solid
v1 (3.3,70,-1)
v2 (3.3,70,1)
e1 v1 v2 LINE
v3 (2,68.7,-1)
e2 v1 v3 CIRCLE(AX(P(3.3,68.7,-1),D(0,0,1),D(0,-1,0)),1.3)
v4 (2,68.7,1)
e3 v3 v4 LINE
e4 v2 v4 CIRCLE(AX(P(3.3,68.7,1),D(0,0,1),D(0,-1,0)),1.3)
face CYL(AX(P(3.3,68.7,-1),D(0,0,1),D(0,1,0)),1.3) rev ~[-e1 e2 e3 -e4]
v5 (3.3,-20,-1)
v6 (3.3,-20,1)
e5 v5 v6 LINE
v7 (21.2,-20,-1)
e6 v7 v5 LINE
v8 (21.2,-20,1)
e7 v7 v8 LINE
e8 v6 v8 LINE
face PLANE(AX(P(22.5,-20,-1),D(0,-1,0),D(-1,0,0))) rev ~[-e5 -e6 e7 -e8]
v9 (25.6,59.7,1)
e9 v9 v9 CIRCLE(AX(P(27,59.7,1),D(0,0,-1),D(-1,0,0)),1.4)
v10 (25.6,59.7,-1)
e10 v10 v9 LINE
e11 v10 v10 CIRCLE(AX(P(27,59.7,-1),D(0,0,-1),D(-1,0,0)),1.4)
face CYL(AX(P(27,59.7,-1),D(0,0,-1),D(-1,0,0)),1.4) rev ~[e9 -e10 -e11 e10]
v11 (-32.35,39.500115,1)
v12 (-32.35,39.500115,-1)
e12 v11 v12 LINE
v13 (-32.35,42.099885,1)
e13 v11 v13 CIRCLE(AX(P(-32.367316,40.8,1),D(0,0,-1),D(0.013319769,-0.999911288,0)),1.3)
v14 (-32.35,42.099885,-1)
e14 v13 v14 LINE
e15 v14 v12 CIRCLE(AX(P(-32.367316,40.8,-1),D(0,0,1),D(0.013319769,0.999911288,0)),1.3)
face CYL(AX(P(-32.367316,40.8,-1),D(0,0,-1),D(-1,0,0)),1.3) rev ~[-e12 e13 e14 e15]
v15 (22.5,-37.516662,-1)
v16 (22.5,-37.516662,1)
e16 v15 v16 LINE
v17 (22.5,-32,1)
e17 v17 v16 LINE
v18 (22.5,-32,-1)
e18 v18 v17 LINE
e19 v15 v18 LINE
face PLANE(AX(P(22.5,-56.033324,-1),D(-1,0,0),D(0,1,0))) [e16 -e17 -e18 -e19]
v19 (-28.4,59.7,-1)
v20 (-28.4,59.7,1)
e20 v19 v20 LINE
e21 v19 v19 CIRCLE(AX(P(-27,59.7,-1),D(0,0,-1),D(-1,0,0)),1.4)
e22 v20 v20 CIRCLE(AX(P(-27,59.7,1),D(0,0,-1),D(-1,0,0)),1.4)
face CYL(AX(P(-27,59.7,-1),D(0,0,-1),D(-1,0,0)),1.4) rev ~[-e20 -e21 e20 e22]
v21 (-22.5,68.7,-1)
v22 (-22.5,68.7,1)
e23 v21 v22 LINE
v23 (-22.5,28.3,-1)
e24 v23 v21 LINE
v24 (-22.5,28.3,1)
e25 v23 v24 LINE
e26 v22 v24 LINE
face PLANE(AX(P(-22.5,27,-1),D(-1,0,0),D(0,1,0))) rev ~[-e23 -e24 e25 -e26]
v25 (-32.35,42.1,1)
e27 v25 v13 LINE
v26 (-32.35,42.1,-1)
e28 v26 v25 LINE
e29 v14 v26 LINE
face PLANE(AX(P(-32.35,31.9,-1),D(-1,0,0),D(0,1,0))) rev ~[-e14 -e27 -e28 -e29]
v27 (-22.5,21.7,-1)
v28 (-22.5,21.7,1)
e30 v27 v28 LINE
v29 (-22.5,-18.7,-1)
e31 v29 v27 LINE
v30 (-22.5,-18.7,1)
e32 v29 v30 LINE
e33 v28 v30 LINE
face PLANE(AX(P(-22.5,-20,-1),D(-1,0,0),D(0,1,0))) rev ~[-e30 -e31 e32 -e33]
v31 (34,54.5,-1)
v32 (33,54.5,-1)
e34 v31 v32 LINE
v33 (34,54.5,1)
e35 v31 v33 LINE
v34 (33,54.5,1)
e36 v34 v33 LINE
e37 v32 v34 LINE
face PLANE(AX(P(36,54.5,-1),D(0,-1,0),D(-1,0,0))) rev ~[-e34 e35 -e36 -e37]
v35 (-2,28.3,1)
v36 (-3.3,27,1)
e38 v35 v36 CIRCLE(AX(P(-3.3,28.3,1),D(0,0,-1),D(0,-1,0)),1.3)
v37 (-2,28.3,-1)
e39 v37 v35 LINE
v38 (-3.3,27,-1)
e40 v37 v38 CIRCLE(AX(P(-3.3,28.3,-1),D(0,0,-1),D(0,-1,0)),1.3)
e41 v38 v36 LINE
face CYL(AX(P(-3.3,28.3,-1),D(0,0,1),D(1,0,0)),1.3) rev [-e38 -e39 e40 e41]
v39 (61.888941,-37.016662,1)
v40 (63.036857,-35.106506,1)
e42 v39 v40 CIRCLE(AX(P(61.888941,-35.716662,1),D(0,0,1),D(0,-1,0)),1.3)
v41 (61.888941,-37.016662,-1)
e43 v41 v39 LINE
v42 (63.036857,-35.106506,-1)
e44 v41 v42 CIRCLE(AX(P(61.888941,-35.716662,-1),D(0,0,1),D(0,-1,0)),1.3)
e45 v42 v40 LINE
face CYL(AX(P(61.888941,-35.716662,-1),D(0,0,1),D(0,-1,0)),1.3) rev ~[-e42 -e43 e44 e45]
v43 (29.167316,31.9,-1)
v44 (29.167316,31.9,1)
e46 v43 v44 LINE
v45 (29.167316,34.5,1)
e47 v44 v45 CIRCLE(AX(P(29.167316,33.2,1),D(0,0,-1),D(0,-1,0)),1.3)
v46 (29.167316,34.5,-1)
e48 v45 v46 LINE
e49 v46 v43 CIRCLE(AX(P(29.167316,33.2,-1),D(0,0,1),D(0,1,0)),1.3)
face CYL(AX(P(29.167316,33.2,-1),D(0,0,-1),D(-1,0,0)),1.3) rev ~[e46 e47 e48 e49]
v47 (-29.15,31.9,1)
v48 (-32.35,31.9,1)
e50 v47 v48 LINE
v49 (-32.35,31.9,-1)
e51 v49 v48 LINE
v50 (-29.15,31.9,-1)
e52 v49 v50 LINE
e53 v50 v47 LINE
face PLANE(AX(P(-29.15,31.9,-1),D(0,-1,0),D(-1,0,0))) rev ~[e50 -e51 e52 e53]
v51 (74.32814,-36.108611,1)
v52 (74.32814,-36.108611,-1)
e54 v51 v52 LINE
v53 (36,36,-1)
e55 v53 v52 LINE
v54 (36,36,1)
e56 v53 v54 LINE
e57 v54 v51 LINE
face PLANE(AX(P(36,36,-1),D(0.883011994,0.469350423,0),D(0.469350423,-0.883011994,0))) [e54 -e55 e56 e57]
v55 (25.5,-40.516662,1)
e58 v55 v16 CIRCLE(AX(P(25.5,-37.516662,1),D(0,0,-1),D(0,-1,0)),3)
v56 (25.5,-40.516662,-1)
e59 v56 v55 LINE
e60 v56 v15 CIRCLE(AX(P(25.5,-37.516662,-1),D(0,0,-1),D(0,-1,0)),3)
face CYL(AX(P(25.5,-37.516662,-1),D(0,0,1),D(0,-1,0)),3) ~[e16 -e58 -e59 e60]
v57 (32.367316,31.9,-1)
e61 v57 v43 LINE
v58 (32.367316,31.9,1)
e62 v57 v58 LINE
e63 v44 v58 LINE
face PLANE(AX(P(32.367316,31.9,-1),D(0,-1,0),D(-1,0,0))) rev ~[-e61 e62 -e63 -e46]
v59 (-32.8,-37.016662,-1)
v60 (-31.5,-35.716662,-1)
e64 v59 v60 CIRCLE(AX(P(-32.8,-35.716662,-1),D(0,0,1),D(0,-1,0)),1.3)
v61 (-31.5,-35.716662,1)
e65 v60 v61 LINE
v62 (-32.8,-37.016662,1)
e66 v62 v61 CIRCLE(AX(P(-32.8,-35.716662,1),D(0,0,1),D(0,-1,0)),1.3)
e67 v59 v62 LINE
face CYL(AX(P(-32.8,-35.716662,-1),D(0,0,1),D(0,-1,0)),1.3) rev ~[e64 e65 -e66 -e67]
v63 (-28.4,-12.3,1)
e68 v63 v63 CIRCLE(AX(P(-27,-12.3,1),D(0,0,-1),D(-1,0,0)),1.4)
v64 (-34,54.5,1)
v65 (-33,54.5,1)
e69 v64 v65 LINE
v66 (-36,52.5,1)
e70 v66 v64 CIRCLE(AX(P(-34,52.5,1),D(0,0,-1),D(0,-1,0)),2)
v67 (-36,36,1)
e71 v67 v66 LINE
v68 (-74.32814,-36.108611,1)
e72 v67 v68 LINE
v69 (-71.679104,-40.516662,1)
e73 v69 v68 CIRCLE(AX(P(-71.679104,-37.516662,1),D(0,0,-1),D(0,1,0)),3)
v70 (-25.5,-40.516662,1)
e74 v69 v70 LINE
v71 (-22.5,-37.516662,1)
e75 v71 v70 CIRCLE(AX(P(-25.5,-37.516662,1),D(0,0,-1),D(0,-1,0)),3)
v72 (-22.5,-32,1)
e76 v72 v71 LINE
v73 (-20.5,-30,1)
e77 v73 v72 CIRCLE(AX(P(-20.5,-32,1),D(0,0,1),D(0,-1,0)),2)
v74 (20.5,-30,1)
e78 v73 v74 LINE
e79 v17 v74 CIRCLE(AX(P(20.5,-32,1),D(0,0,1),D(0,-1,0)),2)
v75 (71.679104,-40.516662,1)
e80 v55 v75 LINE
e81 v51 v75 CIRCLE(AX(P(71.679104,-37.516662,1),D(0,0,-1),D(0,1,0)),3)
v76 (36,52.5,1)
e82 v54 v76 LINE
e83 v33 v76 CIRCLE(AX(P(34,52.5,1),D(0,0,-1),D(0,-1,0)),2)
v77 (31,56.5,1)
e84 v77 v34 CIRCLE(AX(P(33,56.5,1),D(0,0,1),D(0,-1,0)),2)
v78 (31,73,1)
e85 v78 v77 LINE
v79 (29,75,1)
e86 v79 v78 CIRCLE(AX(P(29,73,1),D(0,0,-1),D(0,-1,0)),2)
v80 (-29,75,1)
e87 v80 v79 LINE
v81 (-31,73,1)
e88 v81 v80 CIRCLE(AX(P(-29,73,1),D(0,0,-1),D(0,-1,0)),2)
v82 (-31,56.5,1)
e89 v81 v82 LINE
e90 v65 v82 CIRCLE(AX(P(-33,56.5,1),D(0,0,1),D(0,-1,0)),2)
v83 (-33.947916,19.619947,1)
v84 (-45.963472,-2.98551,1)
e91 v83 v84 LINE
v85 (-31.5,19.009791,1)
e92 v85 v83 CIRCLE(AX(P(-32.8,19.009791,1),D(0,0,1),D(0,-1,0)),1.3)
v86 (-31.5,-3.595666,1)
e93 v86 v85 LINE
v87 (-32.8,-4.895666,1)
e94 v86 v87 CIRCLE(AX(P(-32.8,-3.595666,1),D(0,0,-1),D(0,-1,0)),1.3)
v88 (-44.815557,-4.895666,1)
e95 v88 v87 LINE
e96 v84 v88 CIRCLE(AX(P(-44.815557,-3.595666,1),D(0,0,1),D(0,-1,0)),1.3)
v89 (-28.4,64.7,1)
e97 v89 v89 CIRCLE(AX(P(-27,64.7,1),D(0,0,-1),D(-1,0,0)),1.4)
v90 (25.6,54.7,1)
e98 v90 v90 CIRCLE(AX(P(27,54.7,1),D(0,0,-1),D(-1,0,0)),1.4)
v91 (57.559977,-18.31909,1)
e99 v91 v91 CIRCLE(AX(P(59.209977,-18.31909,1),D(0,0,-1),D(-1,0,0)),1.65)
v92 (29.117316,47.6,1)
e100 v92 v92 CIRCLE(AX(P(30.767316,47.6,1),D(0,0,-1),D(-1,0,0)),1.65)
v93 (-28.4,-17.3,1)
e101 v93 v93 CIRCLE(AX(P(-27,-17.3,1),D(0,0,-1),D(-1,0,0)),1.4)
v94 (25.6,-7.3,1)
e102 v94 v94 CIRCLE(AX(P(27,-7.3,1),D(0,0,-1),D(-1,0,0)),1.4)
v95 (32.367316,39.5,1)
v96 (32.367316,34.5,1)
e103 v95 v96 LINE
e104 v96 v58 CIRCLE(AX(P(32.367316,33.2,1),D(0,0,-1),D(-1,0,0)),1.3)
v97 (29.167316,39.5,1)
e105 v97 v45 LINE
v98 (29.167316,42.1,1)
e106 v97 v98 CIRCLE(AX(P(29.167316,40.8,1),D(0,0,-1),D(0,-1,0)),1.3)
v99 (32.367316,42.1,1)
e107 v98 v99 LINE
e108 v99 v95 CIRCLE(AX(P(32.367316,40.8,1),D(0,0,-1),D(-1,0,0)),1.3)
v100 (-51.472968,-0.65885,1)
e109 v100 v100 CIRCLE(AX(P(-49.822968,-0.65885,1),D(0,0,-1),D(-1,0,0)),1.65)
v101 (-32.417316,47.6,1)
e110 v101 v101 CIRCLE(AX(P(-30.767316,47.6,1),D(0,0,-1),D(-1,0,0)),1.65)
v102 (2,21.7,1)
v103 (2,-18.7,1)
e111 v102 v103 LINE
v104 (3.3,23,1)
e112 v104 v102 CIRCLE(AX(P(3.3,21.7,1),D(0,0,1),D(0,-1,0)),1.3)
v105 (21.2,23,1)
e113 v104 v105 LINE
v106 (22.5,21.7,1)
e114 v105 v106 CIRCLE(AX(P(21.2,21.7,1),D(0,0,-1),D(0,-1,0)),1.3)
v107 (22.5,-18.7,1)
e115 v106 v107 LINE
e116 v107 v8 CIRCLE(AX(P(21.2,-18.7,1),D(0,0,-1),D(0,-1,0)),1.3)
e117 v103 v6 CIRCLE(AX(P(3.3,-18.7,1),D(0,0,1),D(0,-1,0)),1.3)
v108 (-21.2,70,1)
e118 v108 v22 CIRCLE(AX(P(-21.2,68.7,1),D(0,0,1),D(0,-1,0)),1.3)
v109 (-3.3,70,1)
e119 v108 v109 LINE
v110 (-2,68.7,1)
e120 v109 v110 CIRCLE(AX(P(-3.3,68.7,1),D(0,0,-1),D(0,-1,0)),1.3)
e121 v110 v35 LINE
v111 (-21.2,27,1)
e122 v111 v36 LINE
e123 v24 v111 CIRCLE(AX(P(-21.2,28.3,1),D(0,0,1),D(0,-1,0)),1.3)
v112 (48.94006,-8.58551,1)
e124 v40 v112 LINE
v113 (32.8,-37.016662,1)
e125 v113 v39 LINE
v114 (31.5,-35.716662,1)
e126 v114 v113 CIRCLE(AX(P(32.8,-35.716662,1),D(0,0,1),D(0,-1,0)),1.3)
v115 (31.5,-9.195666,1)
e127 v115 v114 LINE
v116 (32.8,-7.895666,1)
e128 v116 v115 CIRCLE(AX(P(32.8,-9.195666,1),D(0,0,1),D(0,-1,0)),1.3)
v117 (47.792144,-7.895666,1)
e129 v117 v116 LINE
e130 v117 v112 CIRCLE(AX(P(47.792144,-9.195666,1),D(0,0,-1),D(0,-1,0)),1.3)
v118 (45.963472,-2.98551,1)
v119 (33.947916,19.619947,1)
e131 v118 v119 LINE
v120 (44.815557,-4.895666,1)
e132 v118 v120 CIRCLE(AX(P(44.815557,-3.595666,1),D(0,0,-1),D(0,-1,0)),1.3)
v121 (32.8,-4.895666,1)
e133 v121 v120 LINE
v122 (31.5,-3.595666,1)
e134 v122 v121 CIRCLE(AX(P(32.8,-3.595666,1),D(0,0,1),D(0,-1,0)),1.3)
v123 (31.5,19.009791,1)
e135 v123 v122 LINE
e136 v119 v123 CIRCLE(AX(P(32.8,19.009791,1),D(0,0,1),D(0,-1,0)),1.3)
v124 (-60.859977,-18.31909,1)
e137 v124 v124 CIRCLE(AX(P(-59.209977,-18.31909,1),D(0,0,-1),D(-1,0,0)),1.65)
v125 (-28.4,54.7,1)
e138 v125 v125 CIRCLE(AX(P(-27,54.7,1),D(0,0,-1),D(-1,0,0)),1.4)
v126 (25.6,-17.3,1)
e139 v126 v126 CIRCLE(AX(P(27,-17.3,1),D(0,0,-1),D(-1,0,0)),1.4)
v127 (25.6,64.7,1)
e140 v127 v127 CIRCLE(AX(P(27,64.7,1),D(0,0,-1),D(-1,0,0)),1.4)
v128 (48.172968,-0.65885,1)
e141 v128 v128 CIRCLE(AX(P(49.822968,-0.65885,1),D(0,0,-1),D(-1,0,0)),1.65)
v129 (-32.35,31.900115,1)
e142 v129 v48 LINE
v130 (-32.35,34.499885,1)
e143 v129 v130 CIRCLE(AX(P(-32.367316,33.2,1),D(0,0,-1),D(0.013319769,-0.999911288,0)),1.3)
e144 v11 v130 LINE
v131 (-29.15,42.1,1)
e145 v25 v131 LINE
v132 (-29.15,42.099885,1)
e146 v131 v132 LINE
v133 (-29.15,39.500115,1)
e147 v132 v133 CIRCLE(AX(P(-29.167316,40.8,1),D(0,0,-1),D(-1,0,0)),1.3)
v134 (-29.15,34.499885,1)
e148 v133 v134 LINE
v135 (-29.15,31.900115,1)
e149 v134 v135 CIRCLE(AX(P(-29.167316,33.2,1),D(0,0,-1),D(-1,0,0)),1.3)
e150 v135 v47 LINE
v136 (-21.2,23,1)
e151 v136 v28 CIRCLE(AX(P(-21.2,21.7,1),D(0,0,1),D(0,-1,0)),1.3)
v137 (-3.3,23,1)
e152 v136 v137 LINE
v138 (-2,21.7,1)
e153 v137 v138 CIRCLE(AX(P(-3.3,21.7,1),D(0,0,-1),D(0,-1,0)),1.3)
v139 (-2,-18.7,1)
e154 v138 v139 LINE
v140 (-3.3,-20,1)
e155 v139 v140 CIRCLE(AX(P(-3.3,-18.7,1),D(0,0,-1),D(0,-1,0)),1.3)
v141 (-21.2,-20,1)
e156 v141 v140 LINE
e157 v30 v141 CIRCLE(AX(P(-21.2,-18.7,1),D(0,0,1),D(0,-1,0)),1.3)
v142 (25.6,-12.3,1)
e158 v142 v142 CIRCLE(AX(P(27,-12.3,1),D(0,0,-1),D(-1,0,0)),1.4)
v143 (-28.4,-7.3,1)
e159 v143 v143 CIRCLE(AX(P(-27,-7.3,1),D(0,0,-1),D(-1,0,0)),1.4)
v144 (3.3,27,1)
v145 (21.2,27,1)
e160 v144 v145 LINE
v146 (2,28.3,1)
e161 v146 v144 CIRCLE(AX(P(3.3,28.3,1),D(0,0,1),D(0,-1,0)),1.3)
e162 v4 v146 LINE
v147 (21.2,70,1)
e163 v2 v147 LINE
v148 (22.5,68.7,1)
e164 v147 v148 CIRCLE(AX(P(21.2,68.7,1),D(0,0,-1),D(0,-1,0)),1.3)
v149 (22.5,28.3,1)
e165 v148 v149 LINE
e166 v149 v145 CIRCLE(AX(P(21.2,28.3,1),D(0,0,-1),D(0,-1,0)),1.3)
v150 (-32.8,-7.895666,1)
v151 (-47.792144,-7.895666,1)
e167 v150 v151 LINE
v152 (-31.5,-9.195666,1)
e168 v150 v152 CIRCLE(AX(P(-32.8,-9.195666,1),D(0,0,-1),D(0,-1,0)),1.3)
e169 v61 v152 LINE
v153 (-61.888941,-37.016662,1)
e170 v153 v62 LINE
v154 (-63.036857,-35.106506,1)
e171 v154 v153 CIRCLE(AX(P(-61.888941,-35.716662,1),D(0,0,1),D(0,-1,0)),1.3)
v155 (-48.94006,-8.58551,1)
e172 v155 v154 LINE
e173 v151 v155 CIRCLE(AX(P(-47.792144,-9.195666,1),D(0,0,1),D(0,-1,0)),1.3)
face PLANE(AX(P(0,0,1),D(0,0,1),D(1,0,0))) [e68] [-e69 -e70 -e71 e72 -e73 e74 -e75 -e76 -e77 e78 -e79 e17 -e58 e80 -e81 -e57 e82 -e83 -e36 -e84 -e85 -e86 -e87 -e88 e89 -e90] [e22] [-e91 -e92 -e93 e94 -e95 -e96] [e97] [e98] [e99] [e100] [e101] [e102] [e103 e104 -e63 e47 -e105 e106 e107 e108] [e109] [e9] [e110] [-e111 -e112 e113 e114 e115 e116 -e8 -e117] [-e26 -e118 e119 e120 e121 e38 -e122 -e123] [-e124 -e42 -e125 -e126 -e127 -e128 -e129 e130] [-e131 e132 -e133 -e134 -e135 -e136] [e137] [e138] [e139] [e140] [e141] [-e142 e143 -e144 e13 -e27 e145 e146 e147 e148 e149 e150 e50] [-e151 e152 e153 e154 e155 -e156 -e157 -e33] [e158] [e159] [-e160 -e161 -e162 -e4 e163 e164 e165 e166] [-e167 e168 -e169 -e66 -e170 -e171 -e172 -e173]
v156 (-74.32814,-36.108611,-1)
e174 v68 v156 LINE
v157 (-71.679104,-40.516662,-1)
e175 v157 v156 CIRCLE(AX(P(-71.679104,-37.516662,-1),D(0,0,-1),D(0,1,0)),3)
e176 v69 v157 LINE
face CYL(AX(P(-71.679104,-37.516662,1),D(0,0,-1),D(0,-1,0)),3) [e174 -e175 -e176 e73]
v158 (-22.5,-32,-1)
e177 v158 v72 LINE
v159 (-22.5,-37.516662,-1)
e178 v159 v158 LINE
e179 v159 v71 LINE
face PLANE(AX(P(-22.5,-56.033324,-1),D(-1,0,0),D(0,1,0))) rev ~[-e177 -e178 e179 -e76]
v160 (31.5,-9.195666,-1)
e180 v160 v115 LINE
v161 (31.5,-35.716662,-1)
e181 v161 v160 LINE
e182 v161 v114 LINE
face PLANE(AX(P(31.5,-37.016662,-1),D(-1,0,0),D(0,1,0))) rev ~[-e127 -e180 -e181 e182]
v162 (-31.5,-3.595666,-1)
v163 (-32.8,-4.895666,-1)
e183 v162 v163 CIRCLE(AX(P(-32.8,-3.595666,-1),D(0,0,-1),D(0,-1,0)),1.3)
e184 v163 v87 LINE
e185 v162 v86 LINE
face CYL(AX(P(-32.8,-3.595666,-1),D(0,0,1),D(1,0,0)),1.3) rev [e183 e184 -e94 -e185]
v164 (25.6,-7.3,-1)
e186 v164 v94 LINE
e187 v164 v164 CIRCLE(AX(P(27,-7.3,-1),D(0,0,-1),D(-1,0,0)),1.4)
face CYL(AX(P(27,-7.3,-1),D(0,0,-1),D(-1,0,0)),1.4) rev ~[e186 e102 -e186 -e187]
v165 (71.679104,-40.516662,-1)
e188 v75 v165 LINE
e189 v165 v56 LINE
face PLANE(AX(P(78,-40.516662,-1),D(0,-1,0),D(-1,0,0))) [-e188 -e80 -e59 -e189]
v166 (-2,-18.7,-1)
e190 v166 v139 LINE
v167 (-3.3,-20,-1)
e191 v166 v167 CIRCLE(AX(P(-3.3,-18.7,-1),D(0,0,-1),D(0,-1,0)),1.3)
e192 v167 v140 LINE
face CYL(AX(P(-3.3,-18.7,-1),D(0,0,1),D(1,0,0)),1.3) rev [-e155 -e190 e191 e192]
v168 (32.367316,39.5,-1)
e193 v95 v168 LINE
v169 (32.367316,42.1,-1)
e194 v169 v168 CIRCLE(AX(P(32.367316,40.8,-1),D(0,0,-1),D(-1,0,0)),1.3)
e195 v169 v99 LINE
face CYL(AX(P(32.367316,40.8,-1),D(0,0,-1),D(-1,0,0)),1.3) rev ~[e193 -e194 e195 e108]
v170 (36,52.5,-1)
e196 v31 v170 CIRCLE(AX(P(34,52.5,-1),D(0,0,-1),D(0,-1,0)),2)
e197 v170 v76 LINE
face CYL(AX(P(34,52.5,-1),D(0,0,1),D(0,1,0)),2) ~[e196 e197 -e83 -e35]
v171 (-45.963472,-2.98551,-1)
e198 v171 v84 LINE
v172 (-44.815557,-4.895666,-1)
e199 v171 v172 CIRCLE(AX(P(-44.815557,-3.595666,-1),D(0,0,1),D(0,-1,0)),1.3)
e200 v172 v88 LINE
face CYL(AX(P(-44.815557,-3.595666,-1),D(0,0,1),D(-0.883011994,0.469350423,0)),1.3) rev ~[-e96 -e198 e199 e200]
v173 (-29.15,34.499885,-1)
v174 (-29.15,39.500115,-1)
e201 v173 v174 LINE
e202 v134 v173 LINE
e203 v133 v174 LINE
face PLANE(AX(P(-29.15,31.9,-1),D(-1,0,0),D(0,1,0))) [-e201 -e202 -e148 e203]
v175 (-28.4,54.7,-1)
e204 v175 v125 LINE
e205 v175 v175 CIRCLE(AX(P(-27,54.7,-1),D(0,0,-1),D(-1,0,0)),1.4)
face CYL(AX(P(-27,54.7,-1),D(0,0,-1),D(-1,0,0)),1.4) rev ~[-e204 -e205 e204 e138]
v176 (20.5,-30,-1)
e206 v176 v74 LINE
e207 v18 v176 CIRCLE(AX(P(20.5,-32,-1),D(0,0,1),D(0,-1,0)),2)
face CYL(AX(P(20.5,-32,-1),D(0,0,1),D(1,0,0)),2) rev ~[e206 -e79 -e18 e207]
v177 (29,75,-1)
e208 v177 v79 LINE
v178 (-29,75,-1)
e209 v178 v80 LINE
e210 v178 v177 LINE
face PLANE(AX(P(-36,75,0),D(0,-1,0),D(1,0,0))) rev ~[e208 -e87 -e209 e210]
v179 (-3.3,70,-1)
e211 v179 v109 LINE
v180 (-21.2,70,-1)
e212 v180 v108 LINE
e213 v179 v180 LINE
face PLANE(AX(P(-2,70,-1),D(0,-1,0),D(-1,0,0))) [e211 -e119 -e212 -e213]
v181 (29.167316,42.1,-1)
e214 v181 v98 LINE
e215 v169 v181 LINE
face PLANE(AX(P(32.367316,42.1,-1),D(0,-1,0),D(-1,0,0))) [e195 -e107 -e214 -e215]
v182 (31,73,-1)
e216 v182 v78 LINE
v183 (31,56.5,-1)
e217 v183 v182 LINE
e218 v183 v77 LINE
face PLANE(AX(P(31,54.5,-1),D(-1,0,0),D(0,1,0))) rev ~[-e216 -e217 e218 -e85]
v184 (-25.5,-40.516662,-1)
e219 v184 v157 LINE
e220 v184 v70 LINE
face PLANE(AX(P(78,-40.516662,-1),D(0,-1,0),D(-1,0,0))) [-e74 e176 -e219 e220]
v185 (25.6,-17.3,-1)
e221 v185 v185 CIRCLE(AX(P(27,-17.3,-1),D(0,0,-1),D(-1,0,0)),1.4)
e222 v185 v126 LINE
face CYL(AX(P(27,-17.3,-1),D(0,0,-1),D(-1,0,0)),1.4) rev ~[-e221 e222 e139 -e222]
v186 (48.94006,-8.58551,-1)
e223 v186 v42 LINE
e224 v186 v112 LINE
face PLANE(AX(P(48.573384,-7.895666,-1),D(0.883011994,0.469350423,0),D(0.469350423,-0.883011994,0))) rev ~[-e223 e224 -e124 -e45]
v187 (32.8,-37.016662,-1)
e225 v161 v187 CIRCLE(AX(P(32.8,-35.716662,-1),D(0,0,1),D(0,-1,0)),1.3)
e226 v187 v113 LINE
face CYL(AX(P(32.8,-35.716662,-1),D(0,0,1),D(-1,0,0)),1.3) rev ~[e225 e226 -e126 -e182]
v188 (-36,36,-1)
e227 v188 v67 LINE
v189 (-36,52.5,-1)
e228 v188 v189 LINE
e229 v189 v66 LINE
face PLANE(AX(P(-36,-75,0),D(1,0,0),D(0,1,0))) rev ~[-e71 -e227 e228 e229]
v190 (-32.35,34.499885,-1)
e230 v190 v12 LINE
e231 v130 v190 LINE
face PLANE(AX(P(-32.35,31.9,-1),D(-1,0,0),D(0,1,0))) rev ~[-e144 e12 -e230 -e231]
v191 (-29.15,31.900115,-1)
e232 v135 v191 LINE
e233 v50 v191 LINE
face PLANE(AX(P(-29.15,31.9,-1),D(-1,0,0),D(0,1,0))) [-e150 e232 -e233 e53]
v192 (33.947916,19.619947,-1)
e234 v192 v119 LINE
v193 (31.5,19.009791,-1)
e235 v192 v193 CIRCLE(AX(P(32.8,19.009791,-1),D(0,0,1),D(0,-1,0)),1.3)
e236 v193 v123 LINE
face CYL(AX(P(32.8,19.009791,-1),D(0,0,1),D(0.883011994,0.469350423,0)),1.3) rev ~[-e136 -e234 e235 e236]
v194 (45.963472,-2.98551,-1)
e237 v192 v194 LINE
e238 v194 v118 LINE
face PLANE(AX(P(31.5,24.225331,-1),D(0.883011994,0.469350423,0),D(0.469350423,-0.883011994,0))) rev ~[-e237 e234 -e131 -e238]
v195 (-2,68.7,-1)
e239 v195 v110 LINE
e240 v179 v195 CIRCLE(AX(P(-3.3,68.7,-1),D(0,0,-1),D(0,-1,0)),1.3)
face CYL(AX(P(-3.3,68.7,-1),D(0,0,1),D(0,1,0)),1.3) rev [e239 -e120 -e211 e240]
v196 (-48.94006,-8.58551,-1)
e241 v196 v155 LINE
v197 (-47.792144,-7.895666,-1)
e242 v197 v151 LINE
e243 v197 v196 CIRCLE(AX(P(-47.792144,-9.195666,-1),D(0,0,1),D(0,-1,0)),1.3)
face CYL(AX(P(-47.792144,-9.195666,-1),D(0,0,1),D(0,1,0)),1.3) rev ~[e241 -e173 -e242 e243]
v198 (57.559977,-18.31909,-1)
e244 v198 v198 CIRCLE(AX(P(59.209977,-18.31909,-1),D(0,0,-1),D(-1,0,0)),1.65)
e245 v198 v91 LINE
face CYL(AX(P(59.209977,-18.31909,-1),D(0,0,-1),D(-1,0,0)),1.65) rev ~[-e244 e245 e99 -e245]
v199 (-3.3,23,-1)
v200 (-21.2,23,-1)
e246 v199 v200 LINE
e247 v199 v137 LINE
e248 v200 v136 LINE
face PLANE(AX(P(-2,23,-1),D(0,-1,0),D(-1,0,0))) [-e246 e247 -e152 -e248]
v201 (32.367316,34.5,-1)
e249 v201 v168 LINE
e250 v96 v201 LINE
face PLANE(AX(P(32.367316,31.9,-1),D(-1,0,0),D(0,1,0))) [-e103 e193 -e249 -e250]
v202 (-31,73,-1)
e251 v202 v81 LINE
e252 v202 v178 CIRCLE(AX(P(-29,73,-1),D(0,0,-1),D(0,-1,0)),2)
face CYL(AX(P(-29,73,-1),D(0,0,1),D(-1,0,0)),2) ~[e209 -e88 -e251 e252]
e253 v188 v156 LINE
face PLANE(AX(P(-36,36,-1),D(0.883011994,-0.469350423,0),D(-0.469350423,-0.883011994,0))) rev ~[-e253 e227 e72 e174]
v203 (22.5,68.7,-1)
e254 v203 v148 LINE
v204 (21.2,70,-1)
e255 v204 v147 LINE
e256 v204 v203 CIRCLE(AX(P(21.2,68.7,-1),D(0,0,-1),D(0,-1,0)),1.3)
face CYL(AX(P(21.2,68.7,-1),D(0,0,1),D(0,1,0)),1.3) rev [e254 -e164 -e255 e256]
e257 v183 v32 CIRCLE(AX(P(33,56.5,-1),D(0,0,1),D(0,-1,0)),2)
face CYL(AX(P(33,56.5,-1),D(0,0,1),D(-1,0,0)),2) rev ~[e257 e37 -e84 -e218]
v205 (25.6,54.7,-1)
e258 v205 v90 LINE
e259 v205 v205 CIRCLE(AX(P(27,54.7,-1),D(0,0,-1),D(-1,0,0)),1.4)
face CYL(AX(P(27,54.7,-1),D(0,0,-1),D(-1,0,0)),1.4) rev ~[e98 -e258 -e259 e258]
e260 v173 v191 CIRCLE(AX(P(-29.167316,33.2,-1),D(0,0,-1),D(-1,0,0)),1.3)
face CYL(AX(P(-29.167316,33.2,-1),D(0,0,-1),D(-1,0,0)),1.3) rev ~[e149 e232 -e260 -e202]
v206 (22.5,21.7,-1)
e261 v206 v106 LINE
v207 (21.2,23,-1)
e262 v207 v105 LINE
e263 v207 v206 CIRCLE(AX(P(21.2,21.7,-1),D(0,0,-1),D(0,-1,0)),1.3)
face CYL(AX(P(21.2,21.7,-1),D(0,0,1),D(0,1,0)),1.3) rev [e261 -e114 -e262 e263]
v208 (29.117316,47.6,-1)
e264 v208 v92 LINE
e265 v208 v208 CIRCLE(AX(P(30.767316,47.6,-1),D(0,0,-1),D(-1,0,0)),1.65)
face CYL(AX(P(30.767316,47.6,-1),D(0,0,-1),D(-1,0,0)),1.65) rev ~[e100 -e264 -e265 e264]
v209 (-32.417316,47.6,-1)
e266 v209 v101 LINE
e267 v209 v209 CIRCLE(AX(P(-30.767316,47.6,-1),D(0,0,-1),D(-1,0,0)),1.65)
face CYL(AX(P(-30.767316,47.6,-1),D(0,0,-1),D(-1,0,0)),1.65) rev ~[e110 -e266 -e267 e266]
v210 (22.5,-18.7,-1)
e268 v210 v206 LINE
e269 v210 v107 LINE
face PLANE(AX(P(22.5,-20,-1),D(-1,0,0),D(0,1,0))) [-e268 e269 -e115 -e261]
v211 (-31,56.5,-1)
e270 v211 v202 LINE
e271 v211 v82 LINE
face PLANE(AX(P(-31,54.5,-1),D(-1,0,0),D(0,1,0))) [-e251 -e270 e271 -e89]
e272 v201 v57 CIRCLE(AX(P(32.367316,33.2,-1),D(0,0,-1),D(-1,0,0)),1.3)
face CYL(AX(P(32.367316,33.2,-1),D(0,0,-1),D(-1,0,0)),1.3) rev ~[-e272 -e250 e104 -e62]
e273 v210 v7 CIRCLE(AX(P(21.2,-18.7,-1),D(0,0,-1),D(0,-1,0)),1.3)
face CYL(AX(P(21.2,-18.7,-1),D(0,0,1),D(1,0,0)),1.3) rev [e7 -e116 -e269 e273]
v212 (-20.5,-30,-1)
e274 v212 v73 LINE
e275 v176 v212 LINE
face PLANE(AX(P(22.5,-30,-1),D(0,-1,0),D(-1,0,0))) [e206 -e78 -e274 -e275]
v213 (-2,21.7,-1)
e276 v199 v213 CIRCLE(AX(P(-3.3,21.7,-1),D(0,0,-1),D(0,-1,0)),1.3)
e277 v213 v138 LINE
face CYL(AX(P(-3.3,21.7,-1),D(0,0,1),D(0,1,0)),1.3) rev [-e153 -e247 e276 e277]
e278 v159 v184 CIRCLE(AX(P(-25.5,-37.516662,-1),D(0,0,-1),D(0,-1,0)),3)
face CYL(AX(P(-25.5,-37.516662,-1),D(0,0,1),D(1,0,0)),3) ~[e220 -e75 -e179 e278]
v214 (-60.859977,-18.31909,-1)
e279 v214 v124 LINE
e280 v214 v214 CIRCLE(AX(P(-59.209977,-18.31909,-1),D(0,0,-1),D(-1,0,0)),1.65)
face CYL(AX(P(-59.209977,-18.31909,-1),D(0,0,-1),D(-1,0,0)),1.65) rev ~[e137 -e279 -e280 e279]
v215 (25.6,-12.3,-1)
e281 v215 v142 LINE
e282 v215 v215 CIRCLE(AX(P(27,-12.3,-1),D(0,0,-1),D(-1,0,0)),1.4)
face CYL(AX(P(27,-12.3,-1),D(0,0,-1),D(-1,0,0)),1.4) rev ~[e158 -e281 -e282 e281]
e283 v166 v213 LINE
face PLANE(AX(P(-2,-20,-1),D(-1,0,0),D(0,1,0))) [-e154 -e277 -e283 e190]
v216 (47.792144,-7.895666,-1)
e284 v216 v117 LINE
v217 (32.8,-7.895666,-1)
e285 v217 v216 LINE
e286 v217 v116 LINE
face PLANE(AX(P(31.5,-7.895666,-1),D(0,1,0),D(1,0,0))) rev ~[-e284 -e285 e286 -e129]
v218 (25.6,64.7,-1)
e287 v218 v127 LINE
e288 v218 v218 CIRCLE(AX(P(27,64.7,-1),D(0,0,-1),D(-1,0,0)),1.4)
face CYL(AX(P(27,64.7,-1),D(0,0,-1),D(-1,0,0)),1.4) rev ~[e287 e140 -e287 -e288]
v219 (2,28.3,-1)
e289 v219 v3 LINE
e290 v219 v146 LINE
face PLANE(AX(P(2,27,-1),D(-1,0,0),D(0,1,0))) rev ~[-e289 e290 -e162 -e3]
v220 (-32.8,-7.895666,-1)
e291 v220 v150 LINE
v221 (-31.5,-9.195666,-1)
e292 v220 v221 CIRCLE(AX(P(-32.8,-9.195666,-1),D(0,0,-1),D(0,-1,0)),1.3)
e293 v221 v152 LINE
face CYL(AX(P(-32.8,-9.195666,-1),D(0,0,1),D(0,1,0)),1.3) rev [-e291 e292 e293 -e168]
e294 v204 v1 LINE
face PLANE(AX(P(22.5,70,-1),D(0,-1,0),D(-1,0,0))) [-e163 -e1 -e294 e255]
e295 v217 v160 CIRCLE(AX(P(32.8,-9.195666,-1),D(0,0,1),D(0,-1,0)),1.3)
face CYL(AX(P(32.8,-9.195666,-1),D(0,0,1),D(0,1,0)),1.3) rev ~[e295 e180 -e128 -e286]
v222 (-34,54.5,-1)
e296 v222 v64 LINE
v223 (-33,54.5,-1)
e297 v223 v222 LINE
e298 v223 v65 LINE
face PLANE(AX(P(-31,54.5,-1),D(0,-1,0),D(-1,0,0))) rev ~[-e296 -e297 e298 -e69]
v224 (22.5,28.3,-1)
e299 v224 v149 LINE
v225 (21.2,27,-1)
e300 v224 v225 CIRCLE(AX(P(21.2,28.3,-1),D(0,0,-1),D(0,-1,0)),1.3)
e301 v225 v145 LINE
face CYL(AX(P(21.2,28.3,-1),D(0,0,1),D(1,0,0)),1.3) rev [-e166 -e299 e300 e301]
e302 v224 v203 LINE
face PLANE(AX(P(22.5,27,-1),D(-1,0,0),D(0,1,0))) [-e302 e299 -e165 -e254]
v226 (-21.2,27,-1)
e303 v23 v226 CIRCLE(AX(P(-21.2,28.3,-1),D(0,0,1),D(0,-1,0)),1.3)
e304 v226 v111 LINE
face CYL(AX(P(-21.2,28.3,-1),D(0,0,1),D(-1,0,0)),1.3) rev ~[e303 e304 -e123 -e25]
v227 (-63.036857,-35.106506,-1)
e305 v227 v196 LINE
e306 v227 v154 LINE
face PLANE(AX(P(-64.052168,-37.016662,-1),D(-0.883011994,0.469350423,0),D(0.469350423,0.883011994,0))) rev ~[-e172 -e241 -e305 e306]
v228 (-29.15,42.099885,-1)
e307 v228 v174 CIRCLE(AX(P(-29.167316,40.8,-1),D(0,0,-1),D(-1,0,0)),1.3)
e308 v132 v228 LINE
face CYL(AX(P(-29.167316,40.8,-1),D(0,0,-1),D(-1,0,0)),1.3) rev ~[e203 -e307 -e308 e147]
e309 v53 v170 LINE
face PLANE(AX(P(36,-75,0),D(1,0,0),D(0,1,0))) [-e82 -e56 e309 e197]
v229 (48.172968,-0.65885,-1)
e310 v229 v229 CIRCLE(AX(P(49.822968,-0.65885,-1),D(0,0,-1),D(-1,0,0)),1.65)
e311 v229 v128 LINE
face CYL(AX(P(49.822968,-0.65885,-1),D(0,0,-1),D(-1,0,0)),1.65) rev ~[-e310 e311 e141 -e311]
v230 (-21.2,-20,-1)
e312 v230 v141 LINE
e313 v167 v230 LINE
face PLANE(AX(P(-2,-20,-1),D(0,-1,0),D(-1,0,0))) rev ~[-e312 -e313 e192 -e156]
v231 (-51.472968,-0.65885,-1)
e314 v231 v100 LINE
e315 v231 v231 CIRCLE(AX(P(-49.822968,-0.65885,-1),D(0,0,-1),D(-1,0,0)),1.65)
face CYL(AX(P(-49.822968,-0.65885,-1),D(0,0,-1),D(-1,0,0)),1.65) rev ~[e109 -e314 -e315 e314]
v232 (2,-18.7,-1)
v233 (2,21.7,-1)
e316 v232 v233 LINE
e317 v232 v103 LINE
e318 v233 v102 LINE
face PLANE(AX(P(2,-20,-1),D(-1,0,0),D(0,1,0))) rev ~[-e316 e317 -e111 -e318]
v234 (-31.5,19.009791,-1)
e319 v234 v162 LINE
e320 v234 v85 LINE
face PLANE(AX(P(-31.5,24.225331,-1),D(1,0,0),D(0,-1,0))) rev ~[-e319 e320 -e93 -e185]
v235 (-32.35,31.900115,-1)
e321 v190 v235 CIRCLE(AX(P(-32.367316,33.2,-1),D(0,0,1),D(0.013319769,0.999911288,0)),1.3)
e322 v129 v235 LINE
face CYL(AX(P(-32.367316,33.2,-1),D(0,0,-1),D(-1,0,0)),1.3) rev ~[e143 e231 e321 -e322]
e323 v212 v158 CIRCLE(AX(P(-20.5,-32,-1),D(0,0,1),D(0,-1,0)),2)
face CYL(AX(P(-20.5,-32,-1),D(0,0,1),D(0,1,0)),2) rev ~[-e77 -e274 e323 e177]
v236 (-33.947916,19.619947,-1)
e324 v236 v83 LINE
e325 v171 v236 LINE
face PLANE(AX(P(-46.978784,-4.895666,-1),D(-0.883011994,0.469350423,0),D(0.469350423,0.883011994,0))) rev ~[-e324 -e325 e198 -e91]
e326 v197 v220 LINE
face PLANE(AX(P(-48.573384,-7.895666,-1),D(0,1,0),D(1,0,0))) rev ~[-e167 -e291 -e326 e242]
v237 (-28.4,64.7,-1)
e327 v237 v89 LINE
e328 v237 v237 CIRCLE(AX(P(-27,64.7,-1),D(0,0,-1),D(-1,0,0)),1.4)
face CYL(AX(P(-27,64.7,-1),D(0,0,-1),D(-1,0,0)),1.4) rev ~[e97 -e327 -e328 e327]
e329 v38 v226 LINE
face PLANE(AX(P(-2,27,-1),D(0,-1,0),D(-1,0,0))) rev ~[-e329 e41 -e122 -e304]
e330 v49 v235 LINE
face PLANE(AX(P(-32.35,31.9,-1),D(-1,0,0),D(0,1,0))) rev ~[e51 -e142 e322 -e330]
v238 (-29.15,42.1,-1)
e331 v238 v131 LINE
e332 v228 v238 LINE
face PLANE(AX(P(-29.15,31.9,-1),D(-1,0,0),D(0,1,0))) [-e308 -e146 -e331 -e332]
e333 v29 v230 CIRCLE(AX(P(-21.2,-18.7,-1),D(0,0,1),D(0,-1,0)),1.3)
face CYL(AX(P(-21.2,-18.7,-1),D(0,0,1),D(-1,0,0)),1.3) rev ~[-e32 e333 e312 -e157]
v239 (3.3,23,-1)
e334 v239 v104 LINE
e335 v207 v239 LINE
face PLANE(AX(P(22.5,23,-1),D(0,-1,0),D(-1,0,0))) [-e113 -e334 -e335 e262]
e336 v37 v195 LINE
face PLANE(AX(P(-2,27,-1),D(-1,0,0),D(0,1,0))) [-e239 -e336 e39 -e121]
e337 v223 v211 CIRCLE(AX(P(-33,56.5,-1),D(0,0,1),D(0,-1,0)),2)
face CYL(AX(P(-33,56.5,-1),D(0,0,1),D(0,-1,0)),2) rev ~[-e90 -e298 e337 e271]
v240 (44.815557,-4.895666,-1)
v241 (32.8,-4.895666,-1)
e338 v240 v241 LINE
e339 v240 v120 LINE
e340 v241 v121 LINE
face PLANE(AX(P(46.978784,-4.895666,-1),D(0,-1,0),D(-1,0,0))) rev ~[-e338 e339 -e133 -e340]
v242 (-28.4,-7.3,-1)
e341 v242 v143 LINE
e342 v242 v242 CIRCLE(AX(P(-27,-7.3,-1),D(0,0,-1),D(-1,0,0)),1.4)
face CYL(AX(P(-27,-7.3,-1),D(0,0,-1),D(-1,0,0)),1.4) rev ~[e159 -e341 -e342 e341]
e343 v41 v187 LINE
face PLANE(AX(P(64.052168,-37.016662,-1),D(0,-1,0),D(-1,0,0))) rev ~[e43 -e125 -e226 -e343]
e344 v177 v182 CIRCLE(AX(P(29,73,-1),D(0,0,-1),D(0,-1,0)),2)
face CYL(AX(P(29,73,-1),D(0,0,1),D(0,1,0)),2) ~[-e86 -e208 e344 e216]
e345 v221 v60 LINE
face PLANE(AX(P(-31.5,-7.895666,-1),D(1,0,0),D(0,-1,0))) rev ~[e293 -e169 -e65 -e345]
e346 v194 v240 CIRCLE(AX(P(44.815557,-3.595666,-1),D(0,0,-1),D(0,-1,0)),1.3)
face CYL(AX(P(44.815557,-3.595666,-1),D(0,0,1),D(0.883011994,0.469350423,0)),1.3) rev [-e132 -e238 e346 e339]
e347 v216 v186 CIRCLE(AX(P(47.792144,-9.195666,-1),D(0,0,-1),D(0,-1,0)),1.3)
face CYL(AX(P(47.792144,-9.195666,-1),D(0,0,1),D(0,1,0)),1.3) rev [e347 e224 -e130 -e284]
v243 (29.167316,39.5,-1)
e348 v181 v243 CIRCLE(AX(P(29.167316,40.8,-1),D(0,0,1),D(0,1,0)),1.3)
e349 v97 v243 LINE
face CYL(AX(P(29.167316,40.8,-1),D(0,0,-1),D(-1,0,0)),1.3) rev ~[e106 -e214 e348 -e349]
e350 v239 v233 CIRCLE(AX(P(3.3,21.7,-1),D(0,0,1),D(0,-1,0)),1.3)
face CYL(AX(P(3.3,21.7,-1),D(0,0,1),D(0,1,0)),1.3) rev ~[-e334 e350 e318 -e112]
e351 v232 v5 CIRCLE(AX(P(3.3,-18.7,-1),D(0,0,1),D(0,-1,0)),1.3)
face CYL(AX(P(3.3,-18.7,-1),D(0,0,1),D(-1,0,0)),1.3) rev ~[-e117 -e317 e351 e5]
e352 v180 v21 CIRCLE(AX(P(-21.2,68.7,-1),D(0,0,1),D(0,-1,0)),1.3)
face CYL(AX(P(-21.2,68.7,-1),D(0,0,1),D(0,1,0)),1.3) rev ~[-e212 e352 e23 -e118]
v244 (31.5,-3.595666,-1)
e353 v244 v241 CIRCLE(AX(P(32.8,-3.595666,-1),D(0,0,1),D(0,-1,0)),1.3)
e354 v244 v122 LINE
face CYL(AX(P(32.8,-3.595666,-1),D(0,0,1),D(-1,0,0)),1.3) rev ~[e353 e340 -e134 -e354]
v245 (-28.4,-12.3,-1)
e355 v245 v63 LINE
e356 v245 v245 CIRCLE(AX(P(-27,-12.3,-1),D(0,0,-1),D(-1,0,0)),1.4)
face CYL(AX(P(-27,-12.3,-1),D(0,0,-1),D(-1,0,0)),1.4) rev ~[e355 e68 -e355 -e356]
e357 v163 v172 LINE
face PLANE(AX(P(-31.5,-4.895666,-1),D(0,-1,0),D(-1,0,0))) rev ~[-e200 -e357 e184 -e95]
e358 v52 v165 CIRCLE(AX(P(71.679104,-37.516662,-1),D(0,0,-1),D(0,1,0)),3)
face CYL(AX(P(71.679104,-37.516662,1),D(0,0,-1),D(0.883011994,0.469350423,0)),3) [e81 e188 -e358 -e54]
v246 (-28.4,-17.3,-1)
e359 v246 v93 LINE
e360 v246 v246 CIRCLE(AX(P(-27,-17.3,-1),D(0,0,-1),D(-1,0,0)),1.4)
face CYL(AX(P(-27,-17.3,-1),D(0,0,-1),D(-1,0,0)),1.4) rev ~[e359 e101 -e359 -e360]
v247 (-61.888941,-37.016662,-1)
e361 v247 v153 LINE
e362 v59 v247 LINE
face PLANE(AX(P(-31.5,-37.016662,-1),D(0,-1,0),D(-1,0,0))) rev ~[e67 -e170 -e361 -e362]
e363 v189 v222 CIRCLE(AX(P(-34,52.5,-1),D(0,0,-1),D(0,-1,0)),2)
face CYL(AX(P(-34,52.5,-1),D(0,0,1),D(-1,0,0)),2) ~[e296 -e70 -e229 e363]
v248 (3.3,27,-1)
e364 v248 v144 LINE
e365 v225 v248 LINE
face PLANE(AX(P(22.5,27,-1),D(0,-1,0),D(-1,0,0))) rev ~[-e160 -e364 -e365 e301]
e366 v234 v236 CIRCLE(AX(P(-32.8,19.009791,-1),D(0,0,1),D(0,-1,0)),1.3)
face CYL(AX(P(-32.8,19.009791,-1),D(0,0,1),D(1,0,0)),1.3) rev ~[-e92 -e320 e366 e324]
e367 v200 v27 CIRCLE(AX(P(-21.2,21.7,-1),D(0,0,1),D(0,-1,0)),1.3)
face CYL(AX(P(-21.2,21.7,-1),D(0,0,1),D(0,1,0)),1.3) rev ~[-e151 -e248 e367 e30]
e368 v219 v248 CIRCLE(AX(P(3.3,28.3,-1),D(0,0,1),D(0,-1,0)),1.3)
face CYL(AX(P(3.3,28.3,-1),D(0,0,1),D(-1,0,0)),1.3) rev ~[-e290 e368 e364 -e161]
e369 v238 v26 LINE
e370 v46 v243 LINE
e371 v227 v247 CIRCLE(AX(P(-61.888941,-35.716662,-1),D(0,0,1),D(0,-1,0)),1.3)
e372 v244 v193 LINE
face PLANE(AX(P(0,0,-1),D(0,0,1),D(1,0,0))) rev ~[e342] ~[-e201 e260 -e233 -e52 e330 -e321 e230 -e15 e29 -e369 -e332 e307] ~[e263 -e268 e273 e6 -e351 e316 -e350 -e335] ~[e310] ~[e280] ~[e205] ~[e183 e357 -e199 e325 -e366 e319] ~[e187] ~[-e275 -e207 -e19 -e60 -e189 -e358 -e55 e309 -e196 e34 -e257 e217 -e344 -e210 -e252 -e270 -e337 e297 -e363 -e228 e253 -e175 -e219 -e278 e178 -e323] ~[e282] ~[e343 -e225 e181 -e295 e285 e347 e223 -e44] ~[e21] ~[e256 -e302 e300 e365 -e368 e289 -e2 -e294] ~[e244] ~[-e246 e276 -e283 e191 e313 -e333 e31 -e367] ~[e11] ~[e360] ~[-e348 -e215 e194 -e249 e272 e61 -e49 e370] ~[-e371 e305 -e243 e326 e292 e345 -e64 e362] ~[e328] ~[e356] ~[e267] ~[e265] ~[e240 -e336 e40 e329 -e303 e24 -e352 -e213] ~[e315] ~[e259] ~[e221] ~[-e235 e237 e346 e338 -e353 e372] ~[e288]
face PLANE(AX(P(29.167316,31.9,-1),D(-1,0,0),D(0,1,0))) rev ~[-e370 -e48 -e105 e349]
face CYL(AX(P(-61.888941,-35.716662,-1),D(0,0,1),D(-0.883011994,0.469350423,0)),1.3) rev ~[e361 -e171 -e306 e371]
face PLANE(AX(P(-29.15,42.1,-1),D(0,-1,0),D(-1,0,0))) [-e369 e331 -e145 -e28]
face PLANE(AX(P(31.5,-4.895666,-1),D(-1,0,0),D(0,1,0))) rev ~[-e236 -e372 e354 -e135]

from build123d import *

# Parameters (mm, degrees)
SKETCH_1_W             = 72
SKETCH_1_H             = 150
EXTRUDE_1_DEPTH        = 1
SKETCH_2_R             = 1.4
CUT_EXTRUDE_1_DEPTH    = 2
PATTERN_LINEAR_1_COUNT = 2
PATTERN_LINEAR_1_PITCH = 5
PATTERN_LINEAR_2_COUNT = 2
PATTERN_LINEAR_2_PITCH = 5
SKETCH_9_W             = 72
SKETCH_9_H             = 7.5
CUT_EXTRUDE_4_DEPTH    = 5.5
EXTRUDE_5_DEPTH        = 2
SKETCH_12_W            = 72
SKETCH_12_H            = 48.96667592
CUT_EXTRUDE_5_DEPTH    = 10
SKETCH_14_R            = 1.65
CUT_EXTRUDE_6_DEPTH    = 10
SKETCH_15_W            = 3.2
SKETCH_15_H            = 10.2
CUT_EXTRUDE_7_DEPTH    = 10
SKETCH_16_R            = 1.3
CUT_EXTRUDE_8_DEPTH    = 10
SKETCH_17_R            = 1.65
CUT_EXTRUDE_9_DEPTH    = 10
FILLET_1_R             = 2
SKETCH_18_W            = 20.5
SKETCH_18_H            = 43
CUT_EXTRUDE_10_DEPTH   = 10
CUT_EXTRUDE_11_DEPTH   = 10
FILLET_2_R             = 1.3
SKETCH_20_W            = 45
SKETCH_20_H            = 26.033324079
CUT_EXTRUDE_12_DEPTH   = 10
FILLET_3_R             = 2
SKETCH_21_W            = 5
SKETCH_21_H            = 20.5
CUT_EXTRUDE_13_DEPTH   = 10
FILLET_4_R             = 2
SKETCH_22_W            = 156
SKETCH_22_H            = 2.5
CUT_EXTRUDE_14_DEPTH   = 3
FILLET_5_R             = 3


with BuildPart() as part:
    # 草图1 → 凸台-拉伸1 (new body, symmetric)
    with BuildSketch(Plane.XY):
        Rectangle(SKETCH_1_W, SKETCH_1_H)
    extrude(amount=EXTRUDE_1_DEPTH, both=True)

    # 草图2 → 切除-拉伸1 (cut)
    with BuildSketch(Plane(origin=(0, 0, -1), x_dir=(-1, 0, 0), z_dir=(0, 0, -1))):
        with Locations((-27, -12.3)):
            Circle(SKETCH_2_R)
        with Locations((27, -12.3)):
            Circle(SKETCH_2_R)
        with Locations((27, 59.7)):
            Circle(SKETCH_2_R)
        with Locations((-27, 59.7)):
            Circle(SKETCH_2_R)
    cut_extrude_1 = extrude(amount=-CUT_EXTRUDE_1_DEPTH, mode=Mode.SUBTRACT)

    # 阵列(线性)1: 切除-拉伸1 ×2
    with Locations(*[(0, -i * PATTERN_LINEAR_1_PITCH, 0) for i in range(1, PATTERN_LINEAR_1_COUNT)]):
        add(cut_extrude_1, mode=Mode.SUBTRACT)

    # 阵列(线性)2: 切除-拉伸1 ×2
    with Locations(*[(0, i * PATTERN_LINEAR_2_PITCH, 0) for i in range(1, PATTERN_LINEAR_2_COUNT)]):
        add(cut_extrude_1, mode=Mode.SUBTRACT)

    # 草图9 → 切除-拉伸4 (cut)
    with BuildSketch(Plane.XY.offset(1)):
        with Locations((0, -71.25)):
            Rectangle(SKETCH_9_W, SKETCH_9_H)
    extrude(amount=-CUT_EXTRUDE_4_DEPTH, mode=Mode.SUBTRACT)

    # 草图11 → 凸台-拉伸5 (add)
    with BuildSketch(Plane(origin=(0, 0, -1), x_dir=(-1, 0, 0), z_dir=(0, 0, -1))):
        Polygon((-36, 36), (-78, -43.01666204), (-36, -43.01666204), align=None)
        Polygon((36, -43.01666204), (36, 36), (78, -43.01666204), align=None)
    extrude(amount=-EXTRUDE_5_DEPTH)

    # 草图12 → 切除-拉伸5 (cut)
    with BuildSketch(Plane.XY.offset(1)):
        with Locations((0, -67.5)):
            Rectangle(SKETCH_12_W, SKETCH_12_H)
    extrude(amount=-CUT_EXTRUDE_5_DEPTH, mode=Mode.SUBTRACT)

    # 草图14 → 切除-拉伸6 (cut)
    with BuildSketch(Plane(origin=(0, 0, -1), x_dir=(-1, 0, 0), z_dir=(0, 0, -1))):
        with Locations((-49.82296811, -0.658849754)):
            Circle(SKETCH_14_R)
        with Locations((-59.209976564, -18.319089624)):
            Circle(SKETCH_14_R)
        with Locations((49.82296811, -0.658849754)):
            Circle(SKETCH_14_R)
        with Locations((59.209976564, -18.319089624)):
            Circle(SKETCH_14_R)
    extrude(amount=-CUT_EXTRUDE_6_DEPTH, mode=Mode.SUBTRACT)

    # 草图15 → 切除-拉伸7 (cut)
    with BuildSketch(Plane(origin=(0, 0, -1), x_dir=(-1, 0, 0), z_dir=(0, 0, -1))):
        with Locations((30.75, 37)):
            Rectangle(SKETCH_15_W, SKETCH_15_H)
        with Locations((-30.7673157, 37)):
            Rectangle(SKETCH_15_W, SKETCH_15_H)
    extrude(amount=-CUT_EXTRUDE_7_DEPTH, mode=Mode.SUBTRACT)

    # 草图16 → 切除-拉伸8 (cut)
    with BuildSketch(Plane(origin=(0, 0, -1), x_dir=(-1, 0, 0), z_dir=(0, 0, -1))):
        with Locations((-29.1673157, 40.8)):
            Circle(SKETCH_16_R)
        with Locations((-32.3673157, 40.8)):
            Circle(SKETCH_16_R)
        with Locations((-32.3673157, 33.2)):
            Circle(SKETCH_16_R)
        with Locations((-29.1673157, 33.2)):
            Circle(SKETCH_16_R)
        with Locations((29.1673157, 33.2)):
            Circle(SKETCH_16_R)
        with Locations((32.3673157, 33.2)):
            Circle(SKETCH_16_R)
        with Locations((32.3673157, 40.8)):
            Circle(SKETCH_16_R)
        with Locations((29.1673157, 40.8)):
            Circle(SKETCH_16_R)
    extrude(amount=-CUT_EXTRUDE_8_DEPTH, mode=Mode.SUBTRACT)

    # 草图17 → 切除-拉伸9 (cut)
    with BuildSketch(Plane(origin=(0, 0, -1), x_dir=(-1, 0, 0), z_dir=(0, 0, -1))):
        with Locations((-30.7673157, 47.6)):
            Circle(SKETCH_17_R)
        with Locations((30.7673157, 47.6)):
            Circle(SKETCH_17_R)
    extrude(amount=-CUT_EXTRUDE_9_DEPTH, mode=Mode.SUBTRACT)

    # 圆角1
    fillet_1_edges = [part.edges().sort_by_distance(p)[0] for p in [
        (-36, 75, 0),
        (36, 75, 0),
    ]]
    fillet(fillet_1_edges, radius=FILLET_1_R)

    # 草图18 → 切除-拉伸10 (cut)
    with BuildSketch(Plane(origin=(0, 0, -1), x_dir=(-1, 0, 0), z_dir=(0, 0, -1))):
        with Locations((12.25, 48.5)):
            Rectangle(SKETCH_18_W, SKETCH_18_H)
        with Locations((-12.25, 48.5)):
            Rectangle(SKETCH_18_W, SKETCH_18_H)
        with Locations((-12.25, 1.5)):
            Rectangle(SKETCH_18_W, SKETCH_18_H)
        with Locations((12.25, 1.5)):
            Rectangle(SKETCH_18_W, SKETCH_18_H)
    extrude(amount=-CUT_EXTRUDE_10_DEPTH, mode=Mode.SUBTRACT)

    # 草图19 → 切除-拉伸11 (cut)
    with BuildSketch(Plane(origin=(0, 0, -1), x_dir=(-1, 0, 0), z_dir=(0, 0, -1))):
        Polygon((-31.5, -7.895665687), (-48.573384423, -7.895665687), (-64.052168457, -37.01666204), (-31.5, -37.01666204), align=None)
        Polygon((-31.5, 24.225330666), (-46.978784034, -4.895665687), (-31.5, -4.895665687), align=None)
        Polygon((31.5, 24.225330666), (31.5, -4.895665687), (46.978784034, -4.895665687), align=None)
        Polygon((48.573384423, -7.895665687), (31.5, -7.895665687), (31.5, -37.01666204), (64.052168457, -37.01666204), align=None)
    extrude(amount=-CUT_EXTRUDE_11_DEPTH, mode=Mode.SUBTRACT)

    # 圆角2
    fillet_2_edges = [part.edges().sort_by_distance(p)[0] for p in [
        (-2, 23, 0),
        (-22.5, 23, 0),
        (-22.5, -20, 0),
        (-2, -20, 0),
        (2, 23, 0),
        (2, -20, 0),
        (22.5, -20, 0),
        (22.5, 23, 0),
        (2, 70, 0),
        (2, 27, 0),
        (22.5, 27, 0),
        (22.5, 70, 0),
        (-2, 70, 0),
        (-22.5, 70, 0),
        (-22.5, 27, 0),
        (-2, 27, 0),
        (-48.573384423, -7.895665687, 0),
        (-64.052168457, -37.01666204, 0),
        (-31.5, -37.01666204, 0),
        (-31.5, -7.895665687, 0),
        (-31.5, 24.225330666, 0),
        (-46.978784034, -4.895665687, 0),
        (-31.5, -4.895665687, 0),
        (31.5, -4.895665687, 0),
        (46.978784034, -4.895665687, 0),
        (31.5, 24.225330666, 0),
        (31.5, -7.895665687, 0),
        (31.5, -37.01666204, 0),
        (64.052168457, -37.01666204, 0),
        (48.573384423, -7.895665687, 0),
    ]]
    fillet(fillet_2_edges, radius=FILLET_2_R)

    # 草图20 → 切除-拉伸12 (cut)
    with BuildSketch(Plane(origin=(0, 0, -1), x_dir=(-1, 0, 0), z_dir=(0, 0, -1))):
        with Locations((0, -43.01666204)):
            Rectangle(SKETCH_20_W, SKETCH_20_H)
    extrude(amount=-CUT_EXTRUDE_12_DEPTH, mode=Mode.SUBTRACT)

    # 圆角3
    fillet_3_edges = [part.edges().sort_by_distance(p)[0] for p in [
        (22.5, -30, 0),
        (-22.5, -30, 0),
    ]]
    fillet(fillet_3_edges, radius=FILLET_3_R)

    # 草图21 → 切除-拉伸13 (cut)
    with BuildSketch(Plane(origin=(0, 0, -1), x_dir=(-1, 0, 0), z_dir=(0, 0, -1))):
        with Locations((-33.5, 64.75)):
            Rectangle(SKETCH_21_W, SKETCH_21_H)
        with Locations((33.5, 64.75)):
            Rectangle(SKETCH_21_W, SKETCH_21_H)
    extrude(amount=-CUT_EXTRUDE_13_DEPTH, mode=Mode.SUBTRACT)

    # 圆角4
    fillet_4_edges = [part.edges().sort_by_distance(p)[0] for p in [
        (31, 54.5, 0),
        (31, 75, 0),
        (36, 54.5, 0),
        (-36, 54.5, 0),
        (-31, 54.5, 0),
        (-31, 75, 0),
    ]]
    fillet(fillet_4_edges, radius=FILLET_4_R)

    # 草图22 → 切除-拉伸14 (cut, through all)
    with BuildSketch(Plane(origin=(0, 0, -1), x_dir=(-1, 0, 0), z_dir=(0, 0, -1))):
        with Locations((0, -41.76666204)):
            Rectangle(SKETCH_22_W, SKETCH_22_H)
    extrude(amount=-CUT_EXTRUDE_14_DEPTH, mode=Mode.SUBTRACT)

    # 圆角5
    fillet_5_edges = [part.edges().sort_by_distance(p)[0] for p in [
        (22.5, -40.51666204, 0),
        (76.671166343, -40.51666204, 0),
        (-76.671166343, -40.51666204, 0),
        (-22.5, -40.51666204, 0),
    ]]
    fillet(fillet_5_edges, radius=FILLET_5_R)


solid = part.part
